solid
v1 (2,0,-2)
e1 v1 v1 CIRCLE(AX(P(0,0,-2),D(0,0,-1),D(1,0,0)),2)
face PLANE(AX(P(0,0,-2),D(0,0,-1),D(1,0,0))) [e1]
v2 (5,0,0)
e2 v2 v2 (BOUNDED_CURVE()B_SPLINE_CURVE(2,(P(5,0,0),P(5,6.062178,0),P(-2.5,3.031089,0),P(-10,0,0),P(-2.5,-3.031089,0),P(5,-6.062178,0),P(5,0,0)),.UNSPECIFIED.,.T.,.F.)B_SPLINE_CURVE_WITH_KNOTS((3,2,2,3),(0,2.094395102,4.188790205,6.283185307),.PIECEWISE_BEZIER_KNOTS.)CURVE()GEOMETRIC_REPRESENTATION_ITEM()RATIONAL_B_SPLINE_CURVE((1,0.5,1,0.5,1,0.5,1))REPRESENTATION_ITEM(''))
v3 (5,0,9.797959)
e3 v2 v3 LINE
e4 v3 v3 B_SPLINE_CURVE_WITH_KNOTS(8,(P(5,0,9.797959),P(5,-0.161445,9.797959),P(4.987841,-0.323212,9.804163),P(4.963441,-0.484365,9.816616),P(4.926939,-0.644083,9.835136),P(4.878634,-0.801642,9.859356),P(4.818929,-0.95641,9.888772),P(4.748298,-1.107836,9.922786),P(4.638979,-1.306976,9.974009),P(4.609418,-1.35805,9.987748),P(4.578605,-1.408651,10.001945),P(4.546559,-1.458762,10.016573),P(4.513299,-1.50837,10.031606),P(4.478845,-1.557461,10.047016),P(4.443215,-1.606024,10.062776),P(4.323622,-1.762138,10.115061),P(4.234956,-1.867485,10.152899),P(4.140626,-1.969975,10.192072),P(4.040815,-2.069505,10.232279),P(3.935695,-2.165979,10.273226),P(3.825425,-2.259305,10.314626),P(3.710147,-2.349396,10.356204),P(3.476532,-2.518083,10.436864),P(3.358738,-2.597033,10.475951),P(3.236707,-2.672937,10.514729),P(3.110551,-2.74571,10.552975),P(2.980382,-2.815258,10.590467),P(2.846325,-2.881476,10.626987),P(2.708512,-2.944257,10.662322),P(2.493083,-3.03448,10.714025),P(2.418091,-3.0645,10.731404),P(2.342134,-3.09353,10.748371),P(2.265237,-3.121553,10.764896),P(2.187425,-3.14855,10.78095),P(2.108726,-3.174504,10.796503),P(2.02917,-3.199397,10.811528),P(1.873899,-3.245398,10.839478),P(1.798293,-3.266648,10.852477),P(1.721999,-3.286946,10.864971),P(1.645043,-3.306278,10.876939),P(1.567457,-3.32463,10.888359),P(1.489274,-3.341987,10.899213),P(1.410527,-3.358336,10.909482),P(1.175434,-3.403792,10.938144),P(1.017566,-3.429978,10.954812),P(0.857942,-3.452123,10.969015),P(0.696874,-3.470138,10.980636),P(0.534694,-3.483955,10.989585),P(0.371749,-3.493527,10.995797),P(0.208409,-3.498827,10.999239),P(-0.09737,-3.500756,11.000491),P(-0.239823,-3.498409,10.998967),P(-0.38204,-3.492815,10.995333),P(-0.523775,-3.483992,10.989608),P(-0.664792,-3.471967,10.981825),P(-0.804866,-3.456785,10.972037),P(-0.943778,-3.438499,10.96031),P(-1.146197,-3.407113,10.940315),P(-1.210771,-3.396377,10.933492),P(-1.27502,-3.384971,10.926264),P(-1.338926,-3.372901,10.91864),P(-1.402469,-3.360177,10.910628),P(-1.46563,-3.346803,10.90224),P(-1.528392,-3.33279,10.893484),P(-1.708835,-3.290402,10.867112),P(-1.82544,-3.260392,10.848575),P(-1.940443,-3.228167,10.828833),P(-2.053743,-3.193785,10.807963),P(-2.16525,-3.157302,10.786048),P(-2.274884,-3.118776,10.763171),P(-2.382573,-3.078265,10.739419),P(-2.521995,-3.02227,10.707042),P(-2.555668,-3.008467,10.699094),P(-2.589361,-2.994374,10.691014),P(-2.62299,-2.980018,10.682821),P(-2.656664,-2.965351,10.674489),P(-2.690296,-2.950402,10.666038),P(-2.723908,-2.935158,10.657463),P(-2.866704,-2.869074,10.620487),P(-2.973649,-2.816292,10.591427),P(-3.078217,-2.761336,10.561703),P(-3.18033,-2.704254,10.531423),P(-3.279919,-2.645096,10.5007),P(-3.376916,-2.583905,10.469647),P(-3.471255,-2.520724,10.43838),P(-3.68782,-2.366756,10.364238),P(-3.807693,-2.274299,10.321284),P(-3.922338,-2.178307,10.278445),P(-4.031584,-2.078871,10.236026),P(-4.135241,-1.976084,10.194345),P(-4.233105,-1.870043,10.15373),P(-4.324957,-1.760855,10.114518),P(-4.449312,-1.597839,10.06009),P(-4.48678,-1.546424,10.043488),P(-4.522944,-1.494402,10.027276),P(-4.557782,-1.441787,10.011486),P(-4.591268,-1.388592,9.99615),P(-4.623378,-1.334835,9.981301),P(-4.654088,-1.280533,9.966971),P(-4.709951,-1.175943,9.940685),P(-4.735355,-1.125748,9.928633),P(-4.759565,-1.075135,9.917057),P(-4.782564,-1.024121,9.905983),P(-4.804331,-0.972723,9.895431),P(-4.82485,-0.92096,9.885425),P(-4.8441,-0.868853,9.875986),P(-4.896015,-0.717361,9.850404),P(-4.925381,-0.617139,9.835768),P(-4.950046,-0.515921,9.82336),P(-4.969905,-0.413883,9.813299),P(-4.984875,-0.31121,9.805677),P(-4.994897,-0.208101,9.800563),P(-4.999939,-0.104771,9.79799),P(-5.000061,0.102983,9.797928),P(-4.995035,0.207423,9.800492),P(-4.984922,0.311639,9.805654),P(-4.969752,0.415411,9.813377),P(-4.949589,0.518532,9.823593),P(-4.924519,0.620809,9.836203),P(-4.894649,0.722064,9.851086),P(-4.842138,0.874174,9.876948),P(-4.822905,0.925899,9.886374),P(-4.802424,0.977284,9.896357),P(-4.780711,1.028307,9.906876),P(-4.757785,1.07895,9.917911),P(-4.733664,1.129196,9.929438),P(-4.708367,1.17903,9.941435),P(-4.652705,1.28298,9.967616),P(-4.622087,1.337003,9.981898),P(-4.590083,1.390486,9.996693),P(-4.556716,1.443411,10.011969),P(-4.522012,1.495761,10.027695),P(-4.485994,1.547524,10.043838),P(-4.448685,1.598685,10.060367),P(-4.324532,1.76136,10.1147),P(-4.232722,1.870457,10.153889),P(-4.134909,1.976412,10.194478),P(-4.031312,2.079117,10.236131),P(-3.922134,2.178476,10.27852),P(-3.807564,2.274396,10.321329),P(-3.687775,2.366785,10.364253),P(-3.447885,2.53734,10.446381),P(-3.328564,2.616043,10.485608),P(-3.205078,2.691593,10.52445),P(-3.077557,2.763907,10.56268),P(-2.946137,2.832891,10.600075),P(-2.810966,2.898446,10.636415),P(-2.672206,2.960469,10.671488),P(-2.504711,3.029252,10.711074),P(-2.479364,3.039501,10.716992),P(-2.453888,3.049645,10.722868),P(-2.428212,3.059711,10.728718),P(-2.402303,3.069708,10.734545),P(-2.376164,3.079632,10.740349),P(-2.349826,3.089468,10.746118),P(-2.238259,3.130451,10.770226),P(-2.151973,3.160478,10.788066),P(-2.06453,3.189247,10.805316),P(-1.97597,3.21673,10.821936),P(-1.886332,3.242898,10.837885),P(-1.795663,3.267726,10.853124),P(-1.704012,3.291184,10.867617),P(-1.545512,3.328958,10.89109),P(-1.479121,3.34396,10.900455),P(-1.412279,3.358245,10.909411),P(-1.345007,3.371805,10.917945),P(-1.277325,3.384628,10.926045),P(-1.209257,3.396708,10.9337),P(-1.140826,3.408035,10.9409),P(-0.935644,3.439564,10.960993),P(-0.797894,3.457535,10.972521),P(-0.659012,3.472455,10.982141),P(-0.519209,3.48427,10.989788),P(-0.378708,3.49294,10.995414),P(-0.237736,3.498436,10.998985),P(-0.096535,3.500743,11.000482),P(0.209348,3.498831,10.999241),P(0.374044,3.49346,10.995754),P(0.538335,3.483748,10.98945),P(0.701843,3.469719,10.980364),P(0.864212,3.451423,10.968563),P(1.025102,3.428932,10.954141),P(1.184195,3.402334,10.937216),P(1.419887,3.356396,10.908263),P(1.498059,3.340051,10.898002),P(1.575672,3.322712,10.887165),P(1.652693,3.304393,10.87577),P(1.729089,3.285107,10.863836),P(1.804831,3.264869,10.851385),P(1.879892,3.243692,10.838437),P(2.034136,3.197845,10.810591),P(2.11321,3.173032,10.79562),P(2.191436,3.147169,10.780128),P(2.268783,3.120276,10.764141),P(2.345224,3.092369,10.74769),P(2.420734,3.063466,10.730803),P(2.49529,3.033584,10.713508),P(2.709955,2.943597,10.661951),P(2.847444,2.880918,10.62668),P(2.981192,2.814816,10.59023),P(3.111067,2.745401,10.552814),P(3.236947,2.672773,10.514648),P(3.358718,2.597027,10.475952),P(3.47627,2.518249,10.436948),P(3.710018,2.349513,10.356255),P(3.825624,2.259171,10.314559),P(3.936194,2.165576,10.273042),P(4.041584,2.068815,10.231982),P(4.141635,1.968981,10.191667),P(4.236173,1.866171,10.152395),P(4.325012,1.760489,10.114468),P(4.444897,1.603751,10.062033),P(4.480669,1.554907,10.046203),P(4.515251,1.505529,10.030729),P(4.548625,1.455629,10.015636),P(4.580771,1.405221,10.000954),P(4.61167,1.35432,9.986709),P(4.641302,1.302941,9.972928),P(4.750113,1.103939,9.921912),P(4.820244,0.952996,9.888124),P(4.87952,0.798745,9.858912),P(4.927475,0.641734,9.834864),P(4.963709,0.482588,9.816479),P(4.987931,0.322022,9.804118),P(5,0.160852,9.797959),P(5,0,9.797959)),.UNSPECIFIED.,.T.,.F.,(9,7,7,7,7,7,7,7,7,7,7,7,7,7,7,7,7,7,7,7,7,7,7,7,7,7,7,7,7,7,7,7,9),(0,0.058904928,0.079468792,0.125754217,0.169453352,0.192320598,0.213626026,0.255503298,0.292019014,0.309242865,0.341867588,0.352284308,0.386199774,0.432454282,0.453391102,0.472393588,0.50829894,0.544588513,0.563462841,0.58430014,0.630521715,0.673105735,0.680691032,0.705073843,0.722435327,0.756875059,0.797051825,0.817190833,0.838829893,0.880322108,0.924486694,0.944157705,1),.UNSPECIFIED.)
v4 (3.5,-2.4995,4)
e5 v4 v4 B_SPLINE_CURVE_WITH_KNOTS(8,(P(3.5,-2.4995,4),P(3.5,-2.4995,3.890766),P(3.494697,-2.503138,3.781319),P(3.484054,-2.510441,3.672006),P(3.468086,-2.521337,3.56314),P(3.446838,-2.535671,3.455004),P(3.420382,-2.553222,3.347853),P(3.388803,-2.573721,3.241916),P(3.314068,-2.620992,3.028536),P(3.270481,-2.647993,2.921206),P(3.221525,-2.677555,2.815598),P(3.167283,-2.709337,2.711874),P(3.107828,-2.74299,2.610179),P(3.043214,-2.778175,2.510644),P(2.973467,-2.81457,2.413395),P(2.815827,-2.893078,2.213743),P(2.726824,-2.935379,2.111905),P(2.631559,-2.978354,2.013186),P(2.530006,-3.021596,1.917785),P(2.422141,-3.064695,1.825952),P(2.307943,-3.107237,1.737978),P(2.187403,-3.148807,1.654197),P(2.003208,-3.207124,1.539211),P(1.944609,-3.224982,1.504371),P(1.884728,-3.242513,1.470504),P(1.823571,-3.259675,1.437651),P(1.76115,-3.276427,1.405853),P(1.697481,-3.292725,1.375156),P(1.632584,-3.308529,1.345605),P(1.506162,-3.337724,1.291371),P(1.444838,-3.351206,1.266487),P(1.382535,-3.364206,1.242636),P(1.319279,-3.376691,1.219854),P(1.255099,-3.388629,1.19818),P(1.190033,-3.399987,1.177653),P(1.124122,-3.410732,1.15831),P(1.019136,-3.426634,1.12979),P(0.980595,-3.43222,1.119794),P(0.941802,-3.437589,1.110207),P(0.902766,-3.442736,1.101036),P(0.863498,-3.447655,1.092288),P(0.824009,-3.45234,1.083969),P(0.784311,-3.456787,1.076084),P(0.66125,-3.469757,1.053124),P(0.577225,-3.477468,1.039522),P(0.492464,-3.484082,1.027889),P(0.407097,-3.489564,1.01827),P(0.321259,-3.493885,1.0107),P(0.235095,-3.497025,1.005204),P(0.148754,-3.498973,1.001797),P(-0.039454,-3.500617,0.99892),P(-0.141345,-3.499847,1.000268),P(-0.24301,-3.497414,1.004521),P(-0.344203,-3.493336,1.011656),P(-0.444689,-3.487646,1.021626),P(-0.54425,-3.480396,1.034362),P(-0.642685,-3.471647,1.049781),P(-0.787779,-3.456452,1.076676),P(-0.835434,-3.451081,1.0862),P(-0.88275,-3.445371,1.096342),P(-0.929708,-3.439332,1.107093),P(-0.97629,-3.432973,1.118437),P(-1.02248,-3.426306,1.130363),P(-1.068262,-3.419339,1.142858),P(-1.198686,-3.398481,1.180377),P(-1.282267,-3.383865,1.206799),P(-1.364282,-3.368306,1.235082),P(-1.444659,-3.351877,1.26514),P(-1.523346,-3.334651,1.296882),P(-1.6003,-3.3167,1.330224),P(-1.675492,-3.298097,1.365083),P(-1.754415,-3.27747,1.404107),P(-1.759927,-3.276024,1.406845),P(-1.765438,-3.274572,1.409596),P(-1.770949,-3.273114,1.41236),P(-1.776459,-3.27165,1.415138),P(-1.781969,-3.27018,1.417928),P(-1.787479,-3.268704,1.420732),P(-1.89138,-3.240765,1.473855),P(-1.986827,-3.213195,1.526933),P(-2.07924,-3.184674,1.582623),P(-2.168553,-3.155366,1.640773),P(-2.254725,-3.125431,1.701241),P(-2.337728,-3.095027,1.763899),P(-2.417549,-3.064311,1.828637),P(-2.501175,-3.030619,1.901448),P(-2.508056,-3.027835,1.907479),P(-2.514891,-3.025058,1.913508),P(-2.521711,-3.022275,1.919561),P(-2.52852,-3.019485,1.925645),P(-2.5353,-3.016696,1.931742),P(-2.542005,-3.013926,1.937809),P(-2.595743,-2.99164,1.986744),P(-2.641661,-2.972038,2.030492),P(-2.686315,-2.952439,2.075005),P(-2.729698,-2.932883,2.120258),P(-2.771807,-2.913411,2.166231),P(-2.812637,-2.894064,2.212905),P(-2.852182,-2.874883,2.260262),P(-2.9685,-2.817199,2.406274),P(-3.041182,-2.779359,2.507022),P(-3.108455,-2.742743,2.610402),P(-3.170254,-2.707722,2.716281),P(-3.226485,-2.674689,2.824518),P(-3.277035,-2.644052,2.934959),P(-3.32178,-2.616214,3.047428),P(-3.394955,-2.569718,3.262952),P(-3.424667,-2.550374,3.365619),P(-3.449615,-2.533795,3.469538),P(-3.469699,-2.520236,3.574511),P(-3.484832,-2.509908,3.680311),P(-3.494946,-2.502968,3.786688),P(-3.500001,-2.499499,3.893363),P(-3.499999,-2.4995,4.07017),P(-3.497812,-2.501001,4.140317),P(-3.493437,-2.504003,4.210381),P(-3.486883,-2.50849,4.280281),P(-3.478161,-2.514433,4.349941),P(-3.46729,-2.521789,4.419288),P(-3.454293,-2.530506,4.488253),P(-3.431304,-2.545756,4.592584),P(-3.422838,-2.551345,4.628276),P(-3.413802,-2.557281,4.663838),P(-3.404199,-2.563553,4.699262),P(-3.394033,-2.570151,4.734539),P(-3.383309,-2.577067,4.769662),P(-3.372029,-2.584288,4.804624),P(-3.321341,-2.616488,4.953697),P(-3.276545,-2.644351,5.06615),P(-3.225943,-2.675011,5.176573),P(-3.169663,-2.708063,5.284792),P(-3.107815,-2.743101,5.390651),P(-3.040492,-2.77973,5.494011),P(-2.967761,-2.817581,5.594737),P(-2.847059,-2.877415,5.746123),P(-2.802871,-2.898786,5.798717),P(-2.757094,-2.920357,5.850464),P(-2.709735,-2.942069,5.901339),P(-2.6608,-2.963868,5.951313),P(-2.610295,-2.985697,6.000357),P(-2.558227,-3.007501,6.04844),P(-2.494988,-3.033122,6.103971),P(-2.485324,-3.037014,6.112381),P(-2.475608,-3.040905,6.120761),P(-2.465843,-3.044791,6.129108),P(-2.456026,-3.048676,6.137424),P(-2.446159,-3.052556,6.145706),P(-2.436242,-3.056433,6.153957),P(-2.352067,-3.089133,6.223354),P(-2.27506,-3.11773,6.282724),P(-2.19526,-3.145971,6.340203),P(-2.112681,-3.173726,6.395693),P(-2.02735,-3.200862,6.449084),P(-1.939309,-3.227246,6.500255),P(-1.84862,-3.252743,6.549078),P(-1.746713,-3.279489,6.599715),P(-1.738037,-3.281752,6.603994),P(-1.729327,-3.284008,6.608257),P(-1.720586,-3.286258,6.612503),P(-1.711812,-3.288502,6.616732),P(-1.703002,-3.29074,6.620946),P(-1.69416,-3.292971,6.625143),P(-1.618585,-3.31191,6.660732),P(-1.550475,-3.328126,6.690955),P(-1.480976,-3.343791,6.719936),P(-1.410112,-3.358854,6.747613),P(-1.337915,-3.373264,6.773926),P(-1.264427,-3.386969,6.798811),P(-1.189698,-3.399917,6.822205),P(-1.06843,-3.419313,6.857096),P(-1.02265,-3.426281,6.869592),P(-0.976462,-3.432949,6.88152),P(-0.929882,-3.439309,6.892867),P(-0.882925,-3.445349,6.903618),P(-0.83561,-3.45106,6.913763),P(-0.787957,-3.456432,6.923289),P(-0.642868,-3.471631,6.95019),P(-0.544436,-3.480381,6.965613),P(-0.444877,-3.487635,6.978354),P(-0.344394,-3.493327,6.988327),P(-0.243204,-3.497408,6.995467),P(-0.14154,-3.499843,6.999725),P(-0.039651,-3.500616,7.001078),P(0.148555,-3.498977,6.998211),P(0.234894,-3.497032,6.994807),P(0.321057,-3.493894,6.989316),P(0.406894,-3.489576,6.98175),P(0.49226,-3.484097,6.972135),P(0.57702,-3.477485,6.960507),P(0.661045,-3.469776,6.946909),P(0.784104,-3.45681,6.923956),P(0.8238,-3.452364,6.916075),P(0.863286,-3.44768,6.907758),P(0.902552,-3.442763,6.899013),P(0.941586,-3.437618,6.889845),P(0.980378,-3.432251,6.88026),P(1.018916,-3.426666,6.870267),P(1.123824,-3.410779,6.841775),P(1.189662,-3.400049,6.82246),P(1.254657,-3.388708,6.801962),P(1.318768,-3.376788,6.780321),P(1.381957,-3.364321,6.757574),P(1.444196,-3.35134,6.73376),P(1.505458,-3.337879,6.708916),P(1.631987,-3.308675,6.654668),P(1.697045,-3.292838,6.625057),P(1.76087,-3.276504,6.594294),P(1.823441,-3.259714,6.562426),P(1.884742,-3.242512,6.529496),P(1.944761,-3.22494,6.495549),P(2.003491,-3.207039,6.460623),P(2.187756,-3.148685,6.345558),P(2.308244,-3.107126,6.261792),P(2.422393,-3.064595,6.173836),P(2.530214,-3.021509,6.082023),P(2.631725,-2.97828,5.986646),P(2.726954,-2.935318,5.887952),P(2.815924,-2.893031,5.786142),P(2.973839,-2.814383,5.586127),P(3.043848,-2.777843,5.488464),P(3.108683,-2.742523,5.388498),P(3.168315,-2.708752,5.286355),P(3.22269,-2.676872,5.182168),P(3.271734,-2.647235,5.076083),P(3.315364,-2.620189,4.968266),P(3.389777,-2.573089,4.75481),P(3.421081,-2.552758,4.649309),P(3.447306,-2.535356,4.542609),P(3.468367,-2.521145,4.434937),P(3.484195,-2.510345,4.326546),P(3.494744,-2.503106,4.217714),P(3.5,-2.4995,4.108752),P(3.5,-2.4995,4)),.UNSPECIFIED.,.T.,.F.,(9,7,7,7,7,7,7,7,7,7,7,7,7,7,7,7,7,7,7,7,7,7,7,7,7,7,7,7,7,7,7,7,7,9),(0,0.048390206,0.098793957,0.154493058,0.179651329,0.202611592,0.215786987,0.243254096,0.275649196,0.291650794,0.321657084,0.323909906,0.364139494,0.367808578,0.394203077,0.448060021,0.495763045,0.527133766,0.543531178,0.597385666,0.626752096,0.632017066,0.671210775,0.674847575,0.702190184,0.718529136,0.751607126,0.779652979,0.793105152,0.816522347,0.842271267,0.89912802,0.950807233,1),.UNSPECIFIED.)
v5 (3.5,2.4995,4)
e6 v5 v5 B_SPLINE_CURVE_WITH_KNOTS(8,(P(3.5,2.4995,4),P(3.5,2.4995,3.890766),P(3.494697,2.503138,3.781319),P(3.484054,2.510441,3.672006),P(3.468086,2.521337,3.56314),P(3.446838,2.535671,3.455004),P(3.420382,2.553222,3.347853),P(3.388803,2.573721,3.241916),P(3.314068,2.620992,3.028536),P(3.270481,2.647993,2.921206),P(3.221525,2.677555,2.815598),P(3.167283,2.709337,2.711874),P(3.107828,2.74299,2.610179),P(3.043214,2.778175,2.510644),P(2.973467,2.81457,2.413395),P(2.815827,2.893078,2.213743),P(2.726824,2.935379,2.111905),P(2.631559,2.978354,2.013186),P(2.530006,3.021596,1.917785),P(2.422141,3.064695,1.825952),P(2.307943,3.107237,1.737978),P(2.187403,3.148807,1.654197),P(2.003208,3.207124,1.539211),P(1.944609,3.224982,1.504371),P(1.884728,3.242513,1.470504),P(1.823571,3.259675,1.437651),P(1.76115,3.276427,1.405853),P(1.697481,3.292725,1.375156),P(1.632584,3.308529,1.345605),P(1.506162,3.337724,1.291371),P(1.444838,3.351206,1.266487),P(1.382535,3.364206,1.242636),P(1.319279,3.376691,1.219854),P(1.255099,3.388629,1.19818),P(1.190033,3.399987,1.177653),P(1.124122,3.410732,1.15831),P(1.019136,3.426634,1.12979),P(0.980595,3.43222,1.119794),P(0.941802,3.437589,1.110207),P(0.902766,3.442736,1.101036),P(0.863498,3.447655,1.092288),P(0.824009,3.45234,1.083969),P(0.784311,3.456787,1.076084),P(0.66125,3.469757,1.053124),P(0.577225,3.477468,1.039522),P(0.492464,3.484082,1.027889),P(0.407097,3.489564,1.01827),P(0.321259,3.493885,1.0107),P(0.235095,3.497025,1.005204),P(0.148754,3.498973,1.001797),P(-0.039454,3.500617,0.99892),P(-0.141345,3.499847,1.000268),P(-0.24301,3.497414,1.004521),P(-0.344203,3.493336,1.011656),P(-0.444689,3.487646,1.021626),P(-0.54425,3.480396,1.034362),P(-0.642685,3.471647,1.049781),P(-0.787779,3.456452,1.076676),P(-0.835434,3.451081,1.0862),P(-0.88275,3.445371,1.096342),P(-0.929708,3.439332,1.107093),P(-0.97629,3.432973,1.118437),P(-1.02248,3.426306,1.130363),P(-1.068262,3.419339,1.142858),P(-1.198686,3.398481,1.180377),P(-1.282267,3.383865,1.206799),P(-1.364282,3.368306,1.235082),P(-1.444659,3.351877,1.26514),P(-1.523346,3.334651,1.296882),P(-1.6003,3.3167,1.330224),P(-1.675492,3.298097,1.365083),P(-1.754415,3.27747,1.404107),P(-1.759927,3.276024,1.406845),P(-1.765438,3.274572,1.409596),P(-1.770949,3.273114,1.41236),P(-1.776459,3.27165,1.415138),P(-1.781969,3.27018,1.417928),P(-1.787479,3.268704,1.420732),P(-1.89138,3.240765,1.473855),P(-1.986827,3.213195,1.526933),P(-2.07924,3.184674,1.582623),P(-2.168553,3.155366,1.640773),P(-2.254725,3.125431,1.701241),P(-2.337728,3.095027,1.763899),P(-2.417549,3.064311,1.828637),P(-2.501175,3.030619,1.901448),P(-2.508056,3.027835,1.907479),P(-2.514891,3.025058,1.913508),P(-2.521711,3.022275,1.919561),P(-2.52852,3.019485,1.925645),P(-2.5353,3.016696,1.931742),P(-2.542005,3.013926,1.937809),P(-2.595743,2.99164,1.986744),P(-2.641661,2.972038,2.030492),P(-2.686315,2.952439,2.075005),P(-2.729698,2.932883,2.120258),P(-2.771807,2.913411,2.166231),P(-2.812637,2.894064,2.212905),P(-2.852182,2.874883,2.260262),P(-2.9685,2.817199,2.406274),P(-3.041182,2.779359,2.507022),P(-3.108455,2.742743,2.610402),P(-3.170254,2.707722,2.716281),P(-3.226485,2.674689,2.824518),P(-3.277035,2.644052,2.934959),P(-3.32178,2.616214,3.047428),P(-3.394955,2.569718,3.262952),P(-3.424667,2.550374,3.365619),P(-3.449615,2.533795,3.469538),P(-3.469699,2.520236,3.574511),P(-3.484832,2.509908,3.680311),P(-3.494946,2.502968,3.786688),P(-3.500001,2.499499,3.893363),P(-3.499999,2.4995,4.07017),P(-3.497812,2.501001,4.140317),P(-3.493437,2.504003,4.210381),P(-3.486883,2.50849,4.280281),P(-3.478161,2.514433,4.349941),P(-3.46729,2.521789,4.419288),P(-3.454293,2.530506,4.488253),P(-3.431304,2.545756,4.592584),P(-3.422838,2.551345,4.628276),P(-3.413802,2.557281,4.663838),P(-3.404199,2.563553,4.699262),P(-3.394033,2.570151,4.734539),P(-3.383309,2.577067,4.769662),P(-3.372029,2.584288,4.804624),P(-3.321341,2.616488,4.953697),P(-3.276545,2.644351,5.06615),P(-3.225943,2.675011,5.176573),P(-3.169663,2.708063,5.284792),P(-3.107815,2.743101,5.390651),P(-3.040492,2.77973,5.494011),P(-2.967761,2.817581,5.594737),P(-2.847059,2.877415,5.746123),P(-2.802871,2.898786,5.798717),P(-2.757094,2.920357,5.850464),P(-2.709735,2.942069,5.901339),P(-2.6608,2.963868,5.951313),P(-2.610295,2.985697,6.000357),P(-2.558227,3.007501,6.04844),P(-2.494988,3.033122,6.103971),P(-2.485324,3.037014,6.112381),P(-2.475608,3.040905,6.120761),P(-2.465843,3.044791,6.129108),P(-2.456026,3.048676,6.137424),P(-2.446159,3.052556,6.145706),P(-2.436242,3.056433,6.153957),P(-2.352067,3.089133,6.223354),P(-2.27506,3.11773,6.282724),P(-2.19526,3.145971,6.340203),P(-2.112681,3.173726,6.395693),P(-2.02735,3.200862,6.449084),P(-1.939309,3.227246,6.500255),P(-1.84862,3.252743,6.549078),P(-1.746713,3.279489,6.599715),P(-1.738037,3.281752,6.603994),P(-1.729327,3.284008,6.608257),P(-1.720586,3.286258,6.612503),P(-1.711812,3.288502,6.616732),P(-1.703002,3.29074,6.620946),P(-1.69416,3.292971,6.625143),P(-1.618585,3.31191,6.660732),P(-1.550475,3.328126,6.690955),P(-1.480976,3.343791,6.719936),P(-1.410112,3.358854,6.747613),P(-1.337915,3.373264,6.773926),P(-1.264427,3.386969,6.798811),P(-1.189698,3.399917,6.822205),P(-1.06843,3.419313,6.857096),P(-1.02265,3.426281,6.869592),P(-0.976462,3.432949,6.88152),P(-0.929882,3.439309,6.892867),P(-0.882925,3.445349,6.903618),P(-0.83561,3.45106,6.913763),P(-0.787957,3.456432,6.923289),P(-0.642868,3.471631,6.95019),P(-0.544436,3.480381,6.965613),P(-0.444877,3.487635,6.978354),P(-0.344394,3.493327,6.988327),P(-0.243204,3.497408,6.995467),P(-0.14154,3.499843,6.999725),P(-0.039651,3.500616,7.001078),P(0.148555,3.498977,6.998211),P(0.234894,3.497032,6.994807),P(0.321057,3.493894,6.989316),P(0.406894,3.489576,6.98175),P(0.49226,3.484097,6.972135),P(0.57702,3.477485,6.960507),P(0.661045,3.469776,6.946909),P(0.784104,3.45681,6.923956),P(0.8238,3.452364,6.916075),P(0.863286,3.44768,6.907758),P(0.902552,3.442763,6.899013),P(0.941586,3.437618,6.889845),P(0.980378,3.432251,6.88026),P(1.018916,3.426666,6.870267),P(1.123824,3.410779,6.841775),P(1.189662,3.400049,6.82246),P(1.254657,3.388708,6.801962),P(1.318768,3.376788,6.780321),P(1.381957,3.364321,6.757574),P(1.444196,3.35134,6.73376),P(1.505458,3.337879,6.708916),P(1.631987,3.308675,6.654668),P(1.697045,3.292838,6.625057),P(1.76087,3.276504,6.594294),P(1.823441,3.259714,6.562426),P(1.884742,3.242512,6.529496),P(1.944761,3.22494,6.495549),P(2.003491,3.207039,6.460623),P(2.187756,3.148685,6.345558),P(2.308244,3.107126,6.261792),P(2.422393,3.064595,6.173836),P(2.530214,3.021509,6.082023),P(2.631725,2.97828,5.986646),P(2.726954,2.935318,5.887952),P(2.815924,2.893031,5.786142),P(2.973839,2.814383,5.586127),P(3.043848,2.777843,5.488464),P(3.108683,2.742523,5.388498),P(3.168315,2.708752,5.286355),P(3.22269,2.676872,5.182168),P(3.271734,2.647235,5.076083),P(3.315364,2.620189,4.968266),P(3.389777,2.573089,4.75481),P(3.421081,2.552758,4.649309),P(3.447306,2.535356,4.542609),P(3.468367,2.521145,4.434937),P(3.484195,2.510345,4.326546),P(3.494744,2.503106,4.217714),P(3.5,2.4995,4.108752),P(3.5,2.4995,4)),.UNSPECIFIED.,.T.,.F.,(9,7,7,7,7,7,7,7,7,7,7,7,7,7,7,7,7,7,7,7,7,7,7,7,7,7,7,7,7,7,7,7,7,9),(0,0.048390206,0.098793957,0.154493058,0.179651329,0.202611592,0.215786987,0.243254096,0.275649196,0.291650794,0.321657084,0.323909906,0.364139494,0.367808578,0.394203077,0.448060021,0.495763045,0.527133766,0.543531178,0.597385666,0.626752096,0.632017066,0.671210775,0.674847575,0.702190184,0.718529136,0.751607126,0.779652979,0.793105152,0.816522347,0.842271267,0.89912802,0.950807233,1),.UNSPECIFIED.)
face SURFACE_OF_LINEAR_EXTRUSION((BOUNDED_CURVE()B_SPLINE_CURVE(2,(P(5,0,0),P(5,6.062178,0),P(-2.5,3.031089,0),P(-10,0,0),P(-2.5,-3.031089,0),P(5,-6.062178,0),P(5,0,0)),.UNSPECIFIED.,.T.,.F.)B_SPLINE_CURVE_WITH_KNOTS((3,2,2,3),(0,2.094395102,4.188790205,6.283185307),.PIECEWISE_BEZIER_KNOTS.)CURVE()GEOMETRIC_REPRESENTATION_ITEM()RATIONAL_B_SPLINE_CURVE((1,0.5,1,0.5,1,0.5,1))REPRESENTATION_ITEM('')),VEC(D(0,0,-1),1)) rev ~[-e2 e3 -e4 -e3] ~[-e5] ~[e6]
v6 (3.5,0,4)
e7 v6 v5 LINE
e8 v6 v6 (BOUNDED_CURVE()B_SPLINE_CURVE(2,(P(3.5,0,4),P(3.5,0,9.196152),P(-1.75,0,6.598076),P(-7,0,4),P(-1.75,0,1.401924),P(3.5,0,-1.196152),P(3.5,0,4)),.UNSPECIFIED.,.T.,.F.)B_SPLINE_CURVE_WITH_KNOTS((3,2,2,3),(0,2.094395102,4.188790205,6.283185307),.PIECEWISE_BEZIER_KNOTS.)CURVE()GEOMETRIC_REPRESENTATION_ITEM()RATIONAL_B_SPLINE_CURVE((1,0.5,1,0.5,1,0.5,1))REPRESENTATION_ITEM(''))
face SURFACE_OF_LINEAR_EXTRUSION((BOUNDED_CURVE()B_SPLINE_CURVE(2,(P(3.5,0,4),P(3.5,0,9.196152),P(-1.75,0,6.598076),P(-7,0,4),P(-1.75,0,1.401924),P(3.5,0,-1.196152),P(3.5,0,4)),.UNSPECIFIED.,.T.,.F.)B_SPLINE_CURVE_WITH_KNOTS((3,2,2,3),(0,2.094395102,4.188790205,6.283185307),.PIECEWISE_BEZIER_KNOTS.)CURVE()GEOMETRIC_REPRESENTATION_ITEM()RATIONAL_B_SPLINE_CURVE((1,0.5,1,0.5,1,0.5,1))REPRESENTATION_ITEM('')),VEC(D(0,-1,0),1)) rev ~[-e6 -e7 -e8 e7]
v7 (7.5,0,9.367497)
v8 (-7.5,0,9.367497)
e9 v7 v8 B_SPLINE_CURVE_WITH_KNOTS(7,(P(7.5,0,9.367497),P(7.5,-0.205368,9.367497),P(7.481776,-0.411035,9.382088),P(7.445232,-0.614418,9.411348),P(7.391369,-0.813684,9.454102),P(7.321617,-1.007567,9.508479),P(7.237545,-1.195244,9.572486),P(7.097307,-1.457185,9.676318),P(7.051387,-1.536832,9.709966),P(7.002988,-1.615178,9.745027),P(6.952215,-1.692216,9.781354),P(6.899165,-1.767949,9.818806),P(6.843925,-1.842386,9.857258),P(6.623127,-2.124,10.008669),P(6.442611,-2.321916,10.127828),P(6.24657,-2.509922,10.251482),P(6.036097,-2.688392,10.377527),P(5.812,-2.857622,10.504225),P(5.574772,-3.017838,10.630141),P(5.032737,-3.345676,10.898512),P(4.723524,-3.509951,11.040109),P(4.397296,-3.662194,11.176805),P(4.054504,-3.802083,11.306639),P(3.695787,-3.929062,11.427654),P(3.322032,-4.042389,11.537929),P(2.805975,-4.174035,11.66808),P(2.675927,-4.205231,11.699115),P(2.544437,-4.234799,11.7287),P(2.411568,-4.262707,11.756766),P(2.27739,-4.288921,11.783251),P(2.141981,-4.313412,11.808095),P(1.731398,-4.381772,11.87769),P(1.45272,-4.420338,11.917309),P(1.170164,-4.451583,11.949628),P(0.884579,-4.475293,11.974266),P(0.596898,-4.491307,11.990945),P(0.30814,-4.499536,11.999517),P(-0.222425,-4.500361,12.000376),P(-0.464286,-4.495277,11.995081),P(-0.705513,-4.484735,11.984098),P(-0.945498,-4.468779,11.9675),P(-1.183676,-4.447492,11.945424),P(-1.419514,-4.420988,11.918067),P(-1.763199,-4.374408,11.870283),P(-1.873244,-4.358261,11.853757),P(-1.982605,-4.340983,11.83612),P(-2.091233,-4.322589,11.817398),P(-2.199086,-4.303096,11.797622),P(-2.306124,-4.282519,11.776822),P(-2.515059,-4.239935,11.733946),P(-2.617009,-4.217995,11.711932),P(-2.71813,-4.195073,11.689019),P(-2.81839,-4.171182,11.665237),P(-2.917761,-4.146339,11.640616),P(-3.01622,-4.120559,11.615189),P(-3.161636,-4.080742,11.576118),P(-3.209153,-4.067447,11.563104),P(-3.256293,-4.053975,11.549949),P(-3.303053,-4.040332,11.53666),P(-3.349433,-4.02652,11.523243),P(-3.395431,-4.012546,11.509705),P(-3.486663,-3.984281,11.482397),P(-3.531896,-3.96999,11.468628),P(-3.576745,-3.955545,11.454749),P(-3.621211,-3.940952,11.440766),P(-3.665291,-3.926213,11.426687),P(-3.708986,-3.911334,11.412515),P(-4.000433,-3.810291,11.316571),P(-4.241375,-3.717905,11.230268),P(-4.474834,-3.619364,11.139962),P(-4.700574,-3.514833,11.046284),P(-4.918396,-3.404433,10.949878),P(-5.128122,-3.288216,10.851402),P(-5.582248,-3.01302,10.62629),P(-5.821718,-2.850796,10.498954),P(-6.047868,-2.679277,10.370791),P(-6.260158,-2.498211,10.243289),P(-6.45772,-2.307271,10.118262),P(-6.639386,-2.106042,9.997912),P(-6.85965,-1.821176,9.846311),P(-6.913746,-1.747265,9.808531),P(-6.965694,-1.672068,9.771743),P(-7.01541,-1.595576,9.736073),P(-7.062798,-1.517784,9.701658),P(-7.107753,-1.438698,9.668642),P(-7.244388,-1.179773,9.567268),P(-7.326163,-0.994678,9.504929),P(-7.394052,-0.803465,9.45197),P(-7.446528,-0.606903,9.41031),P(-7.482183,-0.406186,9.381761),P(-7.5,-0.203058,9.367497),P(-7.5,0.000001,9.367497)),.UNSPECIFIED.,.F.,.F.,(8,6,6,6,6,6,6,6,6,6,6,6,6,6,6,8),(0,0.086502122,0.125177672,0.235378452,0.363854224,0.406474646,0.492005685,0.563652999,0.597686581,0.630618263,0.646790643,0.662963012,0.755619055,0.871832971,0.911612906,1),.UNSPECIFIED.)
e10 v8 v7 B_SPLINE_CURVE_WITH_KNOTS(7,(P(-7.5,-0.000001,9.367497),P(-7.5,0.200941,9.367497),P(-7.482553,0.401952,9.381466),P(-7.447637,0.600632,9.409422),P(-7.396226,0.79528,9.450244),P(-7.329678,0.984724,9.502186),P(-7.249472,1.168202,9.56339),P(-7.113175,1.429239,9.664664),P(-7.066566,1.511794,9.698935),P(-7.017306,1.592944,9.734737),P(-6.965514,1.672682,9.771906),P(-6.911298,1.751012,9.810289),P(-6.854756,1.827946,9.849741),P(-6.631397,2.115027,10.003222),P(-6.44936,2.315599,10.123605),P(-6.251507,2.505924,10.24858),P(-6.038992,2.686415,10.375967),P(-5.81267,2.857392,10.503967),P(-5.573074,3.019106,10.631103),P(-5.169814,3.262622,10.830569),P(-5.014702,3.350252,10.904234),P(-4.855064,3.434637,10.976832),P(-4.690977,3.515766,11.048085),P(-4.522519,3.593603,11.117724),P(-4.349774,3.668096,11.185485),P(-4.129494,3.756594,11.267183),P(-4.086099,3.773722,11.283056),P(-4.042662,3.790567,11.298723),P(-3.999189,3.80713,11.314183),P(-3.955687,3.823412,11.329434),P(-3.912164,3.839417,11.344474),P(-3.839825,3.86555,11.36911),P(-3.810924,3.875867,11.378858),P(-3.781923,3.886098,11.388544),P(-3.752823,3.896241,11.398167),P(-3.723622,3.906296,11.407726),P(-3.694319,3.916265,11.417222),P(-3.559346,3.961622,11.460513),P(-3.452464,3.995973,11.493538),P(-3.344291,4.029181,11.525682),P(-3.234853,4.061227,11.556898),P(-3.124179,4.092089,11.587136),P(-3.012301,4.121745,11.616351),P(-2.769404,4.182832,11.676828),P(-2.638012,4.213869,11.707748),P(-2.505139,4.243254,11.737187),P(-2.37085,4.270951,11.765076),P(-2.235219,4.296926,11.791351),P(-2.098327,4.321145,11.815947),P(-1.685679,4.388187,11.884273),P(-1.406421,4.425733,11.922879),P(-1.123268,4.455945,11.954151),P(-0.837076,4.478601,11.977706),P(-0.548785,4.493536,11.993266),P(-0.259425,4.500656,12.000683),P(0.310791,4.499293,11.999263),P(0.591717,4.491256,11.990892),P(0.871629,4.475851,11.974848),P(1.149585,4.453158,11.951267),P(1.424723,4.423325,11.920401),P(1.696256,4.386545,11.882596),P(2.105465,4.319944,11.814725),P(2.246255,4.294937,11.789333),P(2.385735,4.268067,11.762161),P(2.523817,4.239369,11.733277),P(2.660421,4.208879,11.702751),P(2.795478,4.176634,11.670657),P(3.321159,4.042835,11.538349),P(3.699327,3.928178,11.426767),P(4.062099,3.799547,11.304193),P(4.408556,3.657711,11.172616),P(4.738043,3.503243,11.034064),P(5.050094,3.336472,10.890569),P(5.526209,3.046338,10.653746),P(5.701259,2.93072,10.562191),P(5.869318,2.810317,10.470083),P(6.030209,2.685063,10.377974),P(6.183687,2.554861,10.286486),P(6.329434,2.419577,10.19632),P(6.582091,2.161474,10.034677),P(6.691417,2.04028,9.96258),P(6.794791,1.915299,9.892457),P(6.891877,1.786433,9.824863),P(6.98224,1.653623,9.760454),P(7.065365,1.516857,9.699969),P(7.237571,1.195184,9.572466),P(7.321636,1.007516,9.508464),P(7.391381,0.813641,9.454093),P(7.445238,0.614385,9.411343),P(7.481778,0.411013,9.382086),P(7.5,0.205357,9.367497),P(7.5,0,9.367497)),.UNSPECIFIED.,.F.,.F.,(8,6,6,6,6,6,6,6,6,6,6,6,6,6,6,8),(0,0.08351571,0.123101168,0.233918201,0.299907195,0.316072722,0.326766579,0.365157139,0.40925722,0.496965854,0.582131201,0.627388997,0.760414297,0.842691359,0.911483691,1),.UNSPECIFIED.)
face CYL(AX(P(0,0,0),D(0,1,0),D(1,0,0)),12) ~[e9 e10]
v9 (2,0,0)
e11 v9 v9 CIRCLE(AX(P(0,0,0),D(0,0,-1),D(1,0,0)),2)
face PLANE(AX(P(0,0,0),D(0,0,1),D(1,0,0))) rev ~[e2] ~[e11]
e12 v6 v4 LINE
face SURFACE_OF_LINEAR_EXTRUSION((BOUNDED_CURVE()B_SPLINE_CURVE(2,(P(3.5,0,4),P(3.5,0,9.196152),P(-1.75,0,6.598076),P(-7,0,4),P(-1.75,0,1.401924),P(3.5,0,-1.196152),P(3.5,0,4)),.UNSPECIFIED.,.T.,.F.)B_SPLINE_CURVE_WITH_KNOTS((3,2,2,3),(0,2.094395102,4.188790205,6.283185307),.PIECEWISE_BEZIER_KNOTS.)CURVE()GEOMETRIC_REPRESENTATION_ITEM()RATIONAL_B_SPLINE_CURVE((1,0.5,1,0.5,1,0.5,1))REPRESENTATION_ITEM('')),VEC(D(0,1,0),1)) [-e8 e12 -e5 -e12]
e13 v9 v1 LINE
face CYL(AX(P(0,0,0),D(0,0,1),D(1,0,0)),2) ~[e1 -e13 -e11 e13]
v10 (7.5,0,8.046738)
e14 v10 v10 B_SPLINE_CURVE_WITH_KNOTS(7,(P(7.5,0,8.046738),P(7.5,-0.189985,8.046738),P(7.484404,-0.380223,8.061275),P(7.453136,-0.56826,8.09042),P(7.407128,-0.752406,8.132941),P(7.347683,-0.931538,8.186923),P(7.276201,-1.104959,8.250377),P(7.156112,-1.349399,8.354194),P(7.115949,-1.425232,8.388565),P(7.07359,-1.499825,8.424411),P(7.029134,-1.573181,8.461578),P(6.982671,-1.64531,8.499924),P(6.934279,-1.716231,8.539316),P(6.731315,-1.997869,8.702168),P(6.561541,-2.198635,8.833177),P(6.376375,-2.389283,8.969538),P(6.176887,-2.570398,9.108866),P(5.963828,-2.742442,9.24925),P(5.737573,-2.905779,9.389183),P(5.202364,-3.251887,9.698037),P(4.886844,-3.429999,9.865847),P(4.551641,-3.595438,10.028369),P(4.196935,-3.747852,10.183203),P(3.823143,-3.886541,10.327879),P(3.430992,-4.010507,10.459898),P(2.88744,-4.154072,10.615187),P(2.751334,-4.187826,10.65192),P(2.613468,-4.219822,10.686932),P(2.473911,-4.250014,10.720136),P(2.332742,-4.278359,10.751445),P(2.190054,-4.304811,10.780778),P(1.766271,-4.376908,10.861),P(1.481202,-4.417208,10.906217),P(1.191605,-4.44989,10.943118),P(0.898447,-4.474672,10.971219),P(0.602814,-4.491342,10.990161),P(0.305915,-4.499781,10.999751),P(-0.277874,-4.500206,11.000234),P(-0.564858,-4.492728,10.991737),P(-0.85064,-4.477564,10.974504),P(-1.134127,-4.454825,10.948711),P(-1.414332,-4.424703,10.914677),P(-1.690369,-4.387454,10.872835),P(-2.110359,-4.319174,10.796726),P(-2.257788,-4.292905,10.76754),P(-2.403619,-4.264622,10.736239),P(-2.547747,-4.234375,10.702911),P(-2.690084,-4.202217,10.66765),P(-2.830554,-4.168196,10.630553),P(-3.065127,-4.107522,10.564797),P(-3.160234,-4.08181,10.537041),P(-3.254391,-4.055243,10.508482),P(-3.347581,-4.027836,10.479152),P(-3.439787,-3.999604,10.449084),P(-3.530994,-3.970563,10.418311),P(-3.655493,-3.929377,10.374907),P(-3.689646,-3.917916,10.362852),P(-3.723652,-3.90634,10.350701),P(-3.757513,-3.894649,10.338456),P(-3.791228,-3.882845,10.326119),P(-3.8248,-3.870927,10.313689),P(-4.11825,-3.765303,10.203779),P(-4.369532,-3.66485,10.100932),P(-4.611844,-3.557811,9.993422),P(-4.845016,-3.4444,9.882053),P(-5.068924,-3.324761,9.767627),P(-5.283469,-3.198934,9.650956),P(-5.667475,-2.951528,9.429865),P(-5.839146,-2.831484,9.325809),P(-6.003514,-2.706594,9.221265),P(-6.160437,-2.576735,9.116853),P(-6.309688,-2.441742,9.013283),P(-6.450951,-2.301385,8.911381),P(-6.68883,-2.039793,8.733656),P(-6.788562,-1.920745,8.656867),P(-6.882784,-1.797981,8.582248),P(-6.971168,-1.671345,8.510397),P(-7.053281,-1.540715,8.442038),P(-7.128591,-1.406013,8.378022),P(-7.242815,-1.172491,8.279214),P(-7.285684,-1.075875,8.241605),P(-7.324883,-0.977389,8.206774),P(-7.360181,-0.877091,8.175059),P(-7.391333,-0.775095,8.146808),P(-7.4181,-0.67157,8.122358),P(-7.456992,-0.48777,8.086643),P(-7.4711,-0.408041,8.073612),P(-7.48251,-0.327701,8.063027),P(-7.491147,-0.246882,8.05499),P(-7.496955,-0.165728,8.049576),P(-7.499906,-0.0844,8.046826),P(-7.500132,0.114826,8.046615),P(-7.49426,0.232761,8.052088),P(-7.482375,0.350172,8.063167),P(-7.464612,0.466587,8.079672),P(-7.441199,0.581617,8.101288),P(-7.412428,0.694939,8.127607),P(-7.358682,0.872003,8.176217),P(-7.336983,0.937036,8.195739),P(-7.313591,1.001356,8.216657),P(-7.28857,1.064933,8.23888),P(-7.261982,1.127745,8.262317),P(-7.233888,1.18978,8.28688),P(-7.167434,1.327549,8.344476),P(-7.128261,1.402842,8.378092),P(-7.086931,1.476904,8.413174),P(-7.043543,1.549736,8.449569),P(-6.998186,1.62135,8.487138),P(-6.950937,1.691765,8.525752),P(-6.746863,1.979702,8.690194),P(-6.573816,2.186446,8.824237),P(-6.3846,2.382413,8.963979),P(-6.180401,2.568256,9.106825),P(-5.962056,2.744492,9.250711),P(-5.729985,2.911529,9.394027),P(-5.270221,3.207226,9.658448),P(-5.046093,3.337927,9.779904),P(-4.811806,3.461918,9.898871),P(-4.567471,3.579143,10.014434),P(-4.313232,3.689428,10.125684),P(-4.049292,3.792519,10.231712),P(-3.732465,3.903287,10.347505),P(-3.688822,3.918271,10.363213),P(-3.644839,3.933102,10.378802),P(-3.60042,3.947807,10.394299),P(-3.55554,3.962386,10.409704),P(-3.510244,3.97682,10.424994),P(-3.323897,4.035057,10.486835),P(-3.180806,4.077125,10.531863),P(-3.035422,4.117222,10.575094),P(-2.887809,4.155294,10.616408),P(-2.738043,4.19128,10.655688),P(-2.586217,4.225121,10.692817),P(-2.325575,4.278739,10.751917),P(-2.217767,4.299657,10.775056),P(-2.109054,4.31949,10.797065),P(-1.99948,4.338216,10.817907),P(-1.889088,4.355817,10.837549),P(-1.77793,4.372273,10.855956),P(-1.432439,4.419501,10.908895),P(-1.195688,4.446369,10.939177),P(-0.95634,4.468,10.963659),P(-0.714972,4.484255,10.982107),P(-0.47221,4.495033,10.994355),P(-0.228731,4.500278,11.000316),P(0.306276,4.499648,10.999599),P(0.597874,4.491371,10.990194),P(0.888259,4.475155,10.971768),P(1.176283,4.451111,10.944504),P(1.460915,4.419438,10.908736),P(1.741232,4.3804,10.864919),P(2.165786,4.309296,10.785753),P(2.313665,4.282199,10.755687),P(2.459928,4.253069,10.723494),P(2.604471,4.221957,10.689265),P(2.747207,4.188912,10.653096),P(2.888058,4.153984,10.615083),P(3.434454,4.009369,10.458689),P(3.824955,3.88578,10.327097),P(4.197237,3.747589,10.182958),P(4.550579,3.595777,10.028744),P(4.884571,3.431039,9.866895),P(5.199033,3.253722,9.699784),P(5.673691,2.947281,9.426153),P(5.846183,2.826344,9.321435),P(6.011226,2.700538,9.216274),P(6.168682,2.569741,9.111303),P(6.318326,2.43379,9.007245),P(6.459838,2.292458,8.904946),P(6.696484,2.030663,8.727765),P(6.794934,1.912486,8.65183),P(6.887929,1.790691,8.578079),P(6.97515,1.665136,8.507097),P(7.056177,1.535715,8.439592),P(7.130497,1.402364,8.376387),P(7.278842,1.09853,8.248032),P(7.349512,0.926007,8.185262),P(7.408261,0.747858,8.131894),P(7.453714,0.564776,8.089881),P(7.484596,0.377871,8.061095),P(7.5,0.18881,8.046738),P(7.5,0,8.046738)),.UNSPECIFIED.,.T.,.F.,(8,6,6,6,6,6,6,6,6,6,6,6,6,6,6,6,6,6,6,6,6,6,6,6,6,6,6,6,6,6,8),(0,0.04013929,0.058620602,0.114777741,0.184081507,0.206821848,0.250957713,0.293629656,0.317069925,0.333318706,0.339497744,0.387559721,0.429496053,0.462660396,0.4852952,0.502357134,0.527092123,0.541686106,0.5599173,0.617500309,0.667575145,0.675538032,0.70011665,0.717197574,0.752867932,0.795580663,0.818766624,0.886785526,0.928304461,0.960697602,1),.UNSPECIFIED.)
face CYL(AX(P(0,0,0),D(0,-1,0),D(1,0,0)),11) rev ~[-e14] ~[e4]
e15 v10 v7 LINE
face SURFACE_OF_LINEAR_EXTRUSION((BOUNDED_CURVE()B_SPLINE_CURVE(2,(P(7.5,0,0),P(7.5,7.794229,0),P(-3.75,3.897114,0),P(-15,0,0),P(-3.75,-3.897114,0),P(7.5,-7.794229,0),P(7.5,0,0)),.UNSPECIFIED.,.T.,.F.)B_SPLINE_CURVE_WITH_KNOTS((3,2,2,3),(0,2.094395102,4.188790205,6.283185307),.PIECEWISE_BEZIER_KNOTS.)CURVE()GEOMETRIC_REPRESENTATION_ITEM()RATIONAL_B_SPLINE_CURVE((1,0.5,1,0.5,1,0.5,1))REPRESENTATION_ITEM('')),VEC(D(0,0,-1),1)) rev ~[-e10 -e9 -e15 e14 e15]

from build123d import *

# Parameters (mm, degrees)
F1_DEPTH = 18.2
F2_R     = 24.4528410826
F2_R_2   = 12
F2_R_3   = 11
F3_DEPTH = 12.5
F6_R     = 2
F7_DEPTH = 2
F9_DEPTH = 12.5


with BuildPart() as f1:
    # F0 (on Top) → F1 (new body)
    with BuildSketch(Plane.XY):
        with BuildLine():
            add(Edge.make_bspline(
                [(7.5, 0), (7.5, 7.7942286341), (-3.75, 3.897114317), (-15, 0), (-3.75, -3.897114317), (7.5, -7.7942286341), (7.5, 0)],
                knots=[0, 0, 0, 2.0943951024, 2.0943951024, 4.1887902048, 4.1887902048, 6.2831853072, 6.2831853072, 6.2831853072], degree=2, weights=[1, 0.5, 1, 0.5, 1, 0.5, 1]))
        make_face()
    extrude(amount=F1_DEPTH)

    # F2 (on Front) → F3 (cut, symmetric)
    with BuildSketch(Plane.XZ):
        Circle(F2_R)
        Circle(F2_R_2, mode=Mode.SUBTRACT)
        Circle(F2_R_3)
    extrude(amount=F3_DEPTH, both=True, mode=Mode.SUBTRACT)

    # F4 (on Top) → F5 (join, up to the next surface of F1)
    with BuildSketch(Plane.XY):
        with BuildLine():
            add(Edge.make_bspline(
                [(5, 0), (5, 6.0621778265), (-2.5, 3.0310889132), (-10, 0), (-2.5, -3.0310889132), (5, -6.0621778265), (5, 0)],
                knots=[0, 0, 0, 2.0943951024, 2.0943951024, 4.1887902048, 4.1887902048, 6.2831853072, 6.2831853072, 6.2831853072], degree=2, weights=[1, 0.5, 1, 0.5, 1, 0.5, 1]))
        make_face()
    extrude(until=Until.NEXT)

    # F6 (on face) → F7 (join)
    with BuildSketch(Plane(origin=(0, 0, 0), x_dir=(1, 0, 0), z_dir=(0, 0, -1))):
        Circle(F6_R)
    extrude(amount=F7_DEPTH)

    # F8 (on Front) → F9 (cut, symmetric)
    with BuildSketch(Plane.XZ):
        with BuildLine():
            add(Edge.make_bspline(
                [(3.5, 4), (3.5, 9.1961524227), (-1.75, 6.5980762114), (-7, 4), (-1.75, 1.4019237886), (3.5, -1.1961524227), (3.5, 4)],
                knots=[0, 0, 0, 2.0943951024, 2.0943951024, 4.1887902048, 4.1887902048, 6.2831853072, 6.2831853072, 6.2831853072], degree=2, weights=[1, 0.5, 1, 0.5, 1, 0.5, 1]))
        make_face()
    extrude(amount=F9_DEPTH, both=True, mode=Mode.SUBTRACT)


solid = f1.part
